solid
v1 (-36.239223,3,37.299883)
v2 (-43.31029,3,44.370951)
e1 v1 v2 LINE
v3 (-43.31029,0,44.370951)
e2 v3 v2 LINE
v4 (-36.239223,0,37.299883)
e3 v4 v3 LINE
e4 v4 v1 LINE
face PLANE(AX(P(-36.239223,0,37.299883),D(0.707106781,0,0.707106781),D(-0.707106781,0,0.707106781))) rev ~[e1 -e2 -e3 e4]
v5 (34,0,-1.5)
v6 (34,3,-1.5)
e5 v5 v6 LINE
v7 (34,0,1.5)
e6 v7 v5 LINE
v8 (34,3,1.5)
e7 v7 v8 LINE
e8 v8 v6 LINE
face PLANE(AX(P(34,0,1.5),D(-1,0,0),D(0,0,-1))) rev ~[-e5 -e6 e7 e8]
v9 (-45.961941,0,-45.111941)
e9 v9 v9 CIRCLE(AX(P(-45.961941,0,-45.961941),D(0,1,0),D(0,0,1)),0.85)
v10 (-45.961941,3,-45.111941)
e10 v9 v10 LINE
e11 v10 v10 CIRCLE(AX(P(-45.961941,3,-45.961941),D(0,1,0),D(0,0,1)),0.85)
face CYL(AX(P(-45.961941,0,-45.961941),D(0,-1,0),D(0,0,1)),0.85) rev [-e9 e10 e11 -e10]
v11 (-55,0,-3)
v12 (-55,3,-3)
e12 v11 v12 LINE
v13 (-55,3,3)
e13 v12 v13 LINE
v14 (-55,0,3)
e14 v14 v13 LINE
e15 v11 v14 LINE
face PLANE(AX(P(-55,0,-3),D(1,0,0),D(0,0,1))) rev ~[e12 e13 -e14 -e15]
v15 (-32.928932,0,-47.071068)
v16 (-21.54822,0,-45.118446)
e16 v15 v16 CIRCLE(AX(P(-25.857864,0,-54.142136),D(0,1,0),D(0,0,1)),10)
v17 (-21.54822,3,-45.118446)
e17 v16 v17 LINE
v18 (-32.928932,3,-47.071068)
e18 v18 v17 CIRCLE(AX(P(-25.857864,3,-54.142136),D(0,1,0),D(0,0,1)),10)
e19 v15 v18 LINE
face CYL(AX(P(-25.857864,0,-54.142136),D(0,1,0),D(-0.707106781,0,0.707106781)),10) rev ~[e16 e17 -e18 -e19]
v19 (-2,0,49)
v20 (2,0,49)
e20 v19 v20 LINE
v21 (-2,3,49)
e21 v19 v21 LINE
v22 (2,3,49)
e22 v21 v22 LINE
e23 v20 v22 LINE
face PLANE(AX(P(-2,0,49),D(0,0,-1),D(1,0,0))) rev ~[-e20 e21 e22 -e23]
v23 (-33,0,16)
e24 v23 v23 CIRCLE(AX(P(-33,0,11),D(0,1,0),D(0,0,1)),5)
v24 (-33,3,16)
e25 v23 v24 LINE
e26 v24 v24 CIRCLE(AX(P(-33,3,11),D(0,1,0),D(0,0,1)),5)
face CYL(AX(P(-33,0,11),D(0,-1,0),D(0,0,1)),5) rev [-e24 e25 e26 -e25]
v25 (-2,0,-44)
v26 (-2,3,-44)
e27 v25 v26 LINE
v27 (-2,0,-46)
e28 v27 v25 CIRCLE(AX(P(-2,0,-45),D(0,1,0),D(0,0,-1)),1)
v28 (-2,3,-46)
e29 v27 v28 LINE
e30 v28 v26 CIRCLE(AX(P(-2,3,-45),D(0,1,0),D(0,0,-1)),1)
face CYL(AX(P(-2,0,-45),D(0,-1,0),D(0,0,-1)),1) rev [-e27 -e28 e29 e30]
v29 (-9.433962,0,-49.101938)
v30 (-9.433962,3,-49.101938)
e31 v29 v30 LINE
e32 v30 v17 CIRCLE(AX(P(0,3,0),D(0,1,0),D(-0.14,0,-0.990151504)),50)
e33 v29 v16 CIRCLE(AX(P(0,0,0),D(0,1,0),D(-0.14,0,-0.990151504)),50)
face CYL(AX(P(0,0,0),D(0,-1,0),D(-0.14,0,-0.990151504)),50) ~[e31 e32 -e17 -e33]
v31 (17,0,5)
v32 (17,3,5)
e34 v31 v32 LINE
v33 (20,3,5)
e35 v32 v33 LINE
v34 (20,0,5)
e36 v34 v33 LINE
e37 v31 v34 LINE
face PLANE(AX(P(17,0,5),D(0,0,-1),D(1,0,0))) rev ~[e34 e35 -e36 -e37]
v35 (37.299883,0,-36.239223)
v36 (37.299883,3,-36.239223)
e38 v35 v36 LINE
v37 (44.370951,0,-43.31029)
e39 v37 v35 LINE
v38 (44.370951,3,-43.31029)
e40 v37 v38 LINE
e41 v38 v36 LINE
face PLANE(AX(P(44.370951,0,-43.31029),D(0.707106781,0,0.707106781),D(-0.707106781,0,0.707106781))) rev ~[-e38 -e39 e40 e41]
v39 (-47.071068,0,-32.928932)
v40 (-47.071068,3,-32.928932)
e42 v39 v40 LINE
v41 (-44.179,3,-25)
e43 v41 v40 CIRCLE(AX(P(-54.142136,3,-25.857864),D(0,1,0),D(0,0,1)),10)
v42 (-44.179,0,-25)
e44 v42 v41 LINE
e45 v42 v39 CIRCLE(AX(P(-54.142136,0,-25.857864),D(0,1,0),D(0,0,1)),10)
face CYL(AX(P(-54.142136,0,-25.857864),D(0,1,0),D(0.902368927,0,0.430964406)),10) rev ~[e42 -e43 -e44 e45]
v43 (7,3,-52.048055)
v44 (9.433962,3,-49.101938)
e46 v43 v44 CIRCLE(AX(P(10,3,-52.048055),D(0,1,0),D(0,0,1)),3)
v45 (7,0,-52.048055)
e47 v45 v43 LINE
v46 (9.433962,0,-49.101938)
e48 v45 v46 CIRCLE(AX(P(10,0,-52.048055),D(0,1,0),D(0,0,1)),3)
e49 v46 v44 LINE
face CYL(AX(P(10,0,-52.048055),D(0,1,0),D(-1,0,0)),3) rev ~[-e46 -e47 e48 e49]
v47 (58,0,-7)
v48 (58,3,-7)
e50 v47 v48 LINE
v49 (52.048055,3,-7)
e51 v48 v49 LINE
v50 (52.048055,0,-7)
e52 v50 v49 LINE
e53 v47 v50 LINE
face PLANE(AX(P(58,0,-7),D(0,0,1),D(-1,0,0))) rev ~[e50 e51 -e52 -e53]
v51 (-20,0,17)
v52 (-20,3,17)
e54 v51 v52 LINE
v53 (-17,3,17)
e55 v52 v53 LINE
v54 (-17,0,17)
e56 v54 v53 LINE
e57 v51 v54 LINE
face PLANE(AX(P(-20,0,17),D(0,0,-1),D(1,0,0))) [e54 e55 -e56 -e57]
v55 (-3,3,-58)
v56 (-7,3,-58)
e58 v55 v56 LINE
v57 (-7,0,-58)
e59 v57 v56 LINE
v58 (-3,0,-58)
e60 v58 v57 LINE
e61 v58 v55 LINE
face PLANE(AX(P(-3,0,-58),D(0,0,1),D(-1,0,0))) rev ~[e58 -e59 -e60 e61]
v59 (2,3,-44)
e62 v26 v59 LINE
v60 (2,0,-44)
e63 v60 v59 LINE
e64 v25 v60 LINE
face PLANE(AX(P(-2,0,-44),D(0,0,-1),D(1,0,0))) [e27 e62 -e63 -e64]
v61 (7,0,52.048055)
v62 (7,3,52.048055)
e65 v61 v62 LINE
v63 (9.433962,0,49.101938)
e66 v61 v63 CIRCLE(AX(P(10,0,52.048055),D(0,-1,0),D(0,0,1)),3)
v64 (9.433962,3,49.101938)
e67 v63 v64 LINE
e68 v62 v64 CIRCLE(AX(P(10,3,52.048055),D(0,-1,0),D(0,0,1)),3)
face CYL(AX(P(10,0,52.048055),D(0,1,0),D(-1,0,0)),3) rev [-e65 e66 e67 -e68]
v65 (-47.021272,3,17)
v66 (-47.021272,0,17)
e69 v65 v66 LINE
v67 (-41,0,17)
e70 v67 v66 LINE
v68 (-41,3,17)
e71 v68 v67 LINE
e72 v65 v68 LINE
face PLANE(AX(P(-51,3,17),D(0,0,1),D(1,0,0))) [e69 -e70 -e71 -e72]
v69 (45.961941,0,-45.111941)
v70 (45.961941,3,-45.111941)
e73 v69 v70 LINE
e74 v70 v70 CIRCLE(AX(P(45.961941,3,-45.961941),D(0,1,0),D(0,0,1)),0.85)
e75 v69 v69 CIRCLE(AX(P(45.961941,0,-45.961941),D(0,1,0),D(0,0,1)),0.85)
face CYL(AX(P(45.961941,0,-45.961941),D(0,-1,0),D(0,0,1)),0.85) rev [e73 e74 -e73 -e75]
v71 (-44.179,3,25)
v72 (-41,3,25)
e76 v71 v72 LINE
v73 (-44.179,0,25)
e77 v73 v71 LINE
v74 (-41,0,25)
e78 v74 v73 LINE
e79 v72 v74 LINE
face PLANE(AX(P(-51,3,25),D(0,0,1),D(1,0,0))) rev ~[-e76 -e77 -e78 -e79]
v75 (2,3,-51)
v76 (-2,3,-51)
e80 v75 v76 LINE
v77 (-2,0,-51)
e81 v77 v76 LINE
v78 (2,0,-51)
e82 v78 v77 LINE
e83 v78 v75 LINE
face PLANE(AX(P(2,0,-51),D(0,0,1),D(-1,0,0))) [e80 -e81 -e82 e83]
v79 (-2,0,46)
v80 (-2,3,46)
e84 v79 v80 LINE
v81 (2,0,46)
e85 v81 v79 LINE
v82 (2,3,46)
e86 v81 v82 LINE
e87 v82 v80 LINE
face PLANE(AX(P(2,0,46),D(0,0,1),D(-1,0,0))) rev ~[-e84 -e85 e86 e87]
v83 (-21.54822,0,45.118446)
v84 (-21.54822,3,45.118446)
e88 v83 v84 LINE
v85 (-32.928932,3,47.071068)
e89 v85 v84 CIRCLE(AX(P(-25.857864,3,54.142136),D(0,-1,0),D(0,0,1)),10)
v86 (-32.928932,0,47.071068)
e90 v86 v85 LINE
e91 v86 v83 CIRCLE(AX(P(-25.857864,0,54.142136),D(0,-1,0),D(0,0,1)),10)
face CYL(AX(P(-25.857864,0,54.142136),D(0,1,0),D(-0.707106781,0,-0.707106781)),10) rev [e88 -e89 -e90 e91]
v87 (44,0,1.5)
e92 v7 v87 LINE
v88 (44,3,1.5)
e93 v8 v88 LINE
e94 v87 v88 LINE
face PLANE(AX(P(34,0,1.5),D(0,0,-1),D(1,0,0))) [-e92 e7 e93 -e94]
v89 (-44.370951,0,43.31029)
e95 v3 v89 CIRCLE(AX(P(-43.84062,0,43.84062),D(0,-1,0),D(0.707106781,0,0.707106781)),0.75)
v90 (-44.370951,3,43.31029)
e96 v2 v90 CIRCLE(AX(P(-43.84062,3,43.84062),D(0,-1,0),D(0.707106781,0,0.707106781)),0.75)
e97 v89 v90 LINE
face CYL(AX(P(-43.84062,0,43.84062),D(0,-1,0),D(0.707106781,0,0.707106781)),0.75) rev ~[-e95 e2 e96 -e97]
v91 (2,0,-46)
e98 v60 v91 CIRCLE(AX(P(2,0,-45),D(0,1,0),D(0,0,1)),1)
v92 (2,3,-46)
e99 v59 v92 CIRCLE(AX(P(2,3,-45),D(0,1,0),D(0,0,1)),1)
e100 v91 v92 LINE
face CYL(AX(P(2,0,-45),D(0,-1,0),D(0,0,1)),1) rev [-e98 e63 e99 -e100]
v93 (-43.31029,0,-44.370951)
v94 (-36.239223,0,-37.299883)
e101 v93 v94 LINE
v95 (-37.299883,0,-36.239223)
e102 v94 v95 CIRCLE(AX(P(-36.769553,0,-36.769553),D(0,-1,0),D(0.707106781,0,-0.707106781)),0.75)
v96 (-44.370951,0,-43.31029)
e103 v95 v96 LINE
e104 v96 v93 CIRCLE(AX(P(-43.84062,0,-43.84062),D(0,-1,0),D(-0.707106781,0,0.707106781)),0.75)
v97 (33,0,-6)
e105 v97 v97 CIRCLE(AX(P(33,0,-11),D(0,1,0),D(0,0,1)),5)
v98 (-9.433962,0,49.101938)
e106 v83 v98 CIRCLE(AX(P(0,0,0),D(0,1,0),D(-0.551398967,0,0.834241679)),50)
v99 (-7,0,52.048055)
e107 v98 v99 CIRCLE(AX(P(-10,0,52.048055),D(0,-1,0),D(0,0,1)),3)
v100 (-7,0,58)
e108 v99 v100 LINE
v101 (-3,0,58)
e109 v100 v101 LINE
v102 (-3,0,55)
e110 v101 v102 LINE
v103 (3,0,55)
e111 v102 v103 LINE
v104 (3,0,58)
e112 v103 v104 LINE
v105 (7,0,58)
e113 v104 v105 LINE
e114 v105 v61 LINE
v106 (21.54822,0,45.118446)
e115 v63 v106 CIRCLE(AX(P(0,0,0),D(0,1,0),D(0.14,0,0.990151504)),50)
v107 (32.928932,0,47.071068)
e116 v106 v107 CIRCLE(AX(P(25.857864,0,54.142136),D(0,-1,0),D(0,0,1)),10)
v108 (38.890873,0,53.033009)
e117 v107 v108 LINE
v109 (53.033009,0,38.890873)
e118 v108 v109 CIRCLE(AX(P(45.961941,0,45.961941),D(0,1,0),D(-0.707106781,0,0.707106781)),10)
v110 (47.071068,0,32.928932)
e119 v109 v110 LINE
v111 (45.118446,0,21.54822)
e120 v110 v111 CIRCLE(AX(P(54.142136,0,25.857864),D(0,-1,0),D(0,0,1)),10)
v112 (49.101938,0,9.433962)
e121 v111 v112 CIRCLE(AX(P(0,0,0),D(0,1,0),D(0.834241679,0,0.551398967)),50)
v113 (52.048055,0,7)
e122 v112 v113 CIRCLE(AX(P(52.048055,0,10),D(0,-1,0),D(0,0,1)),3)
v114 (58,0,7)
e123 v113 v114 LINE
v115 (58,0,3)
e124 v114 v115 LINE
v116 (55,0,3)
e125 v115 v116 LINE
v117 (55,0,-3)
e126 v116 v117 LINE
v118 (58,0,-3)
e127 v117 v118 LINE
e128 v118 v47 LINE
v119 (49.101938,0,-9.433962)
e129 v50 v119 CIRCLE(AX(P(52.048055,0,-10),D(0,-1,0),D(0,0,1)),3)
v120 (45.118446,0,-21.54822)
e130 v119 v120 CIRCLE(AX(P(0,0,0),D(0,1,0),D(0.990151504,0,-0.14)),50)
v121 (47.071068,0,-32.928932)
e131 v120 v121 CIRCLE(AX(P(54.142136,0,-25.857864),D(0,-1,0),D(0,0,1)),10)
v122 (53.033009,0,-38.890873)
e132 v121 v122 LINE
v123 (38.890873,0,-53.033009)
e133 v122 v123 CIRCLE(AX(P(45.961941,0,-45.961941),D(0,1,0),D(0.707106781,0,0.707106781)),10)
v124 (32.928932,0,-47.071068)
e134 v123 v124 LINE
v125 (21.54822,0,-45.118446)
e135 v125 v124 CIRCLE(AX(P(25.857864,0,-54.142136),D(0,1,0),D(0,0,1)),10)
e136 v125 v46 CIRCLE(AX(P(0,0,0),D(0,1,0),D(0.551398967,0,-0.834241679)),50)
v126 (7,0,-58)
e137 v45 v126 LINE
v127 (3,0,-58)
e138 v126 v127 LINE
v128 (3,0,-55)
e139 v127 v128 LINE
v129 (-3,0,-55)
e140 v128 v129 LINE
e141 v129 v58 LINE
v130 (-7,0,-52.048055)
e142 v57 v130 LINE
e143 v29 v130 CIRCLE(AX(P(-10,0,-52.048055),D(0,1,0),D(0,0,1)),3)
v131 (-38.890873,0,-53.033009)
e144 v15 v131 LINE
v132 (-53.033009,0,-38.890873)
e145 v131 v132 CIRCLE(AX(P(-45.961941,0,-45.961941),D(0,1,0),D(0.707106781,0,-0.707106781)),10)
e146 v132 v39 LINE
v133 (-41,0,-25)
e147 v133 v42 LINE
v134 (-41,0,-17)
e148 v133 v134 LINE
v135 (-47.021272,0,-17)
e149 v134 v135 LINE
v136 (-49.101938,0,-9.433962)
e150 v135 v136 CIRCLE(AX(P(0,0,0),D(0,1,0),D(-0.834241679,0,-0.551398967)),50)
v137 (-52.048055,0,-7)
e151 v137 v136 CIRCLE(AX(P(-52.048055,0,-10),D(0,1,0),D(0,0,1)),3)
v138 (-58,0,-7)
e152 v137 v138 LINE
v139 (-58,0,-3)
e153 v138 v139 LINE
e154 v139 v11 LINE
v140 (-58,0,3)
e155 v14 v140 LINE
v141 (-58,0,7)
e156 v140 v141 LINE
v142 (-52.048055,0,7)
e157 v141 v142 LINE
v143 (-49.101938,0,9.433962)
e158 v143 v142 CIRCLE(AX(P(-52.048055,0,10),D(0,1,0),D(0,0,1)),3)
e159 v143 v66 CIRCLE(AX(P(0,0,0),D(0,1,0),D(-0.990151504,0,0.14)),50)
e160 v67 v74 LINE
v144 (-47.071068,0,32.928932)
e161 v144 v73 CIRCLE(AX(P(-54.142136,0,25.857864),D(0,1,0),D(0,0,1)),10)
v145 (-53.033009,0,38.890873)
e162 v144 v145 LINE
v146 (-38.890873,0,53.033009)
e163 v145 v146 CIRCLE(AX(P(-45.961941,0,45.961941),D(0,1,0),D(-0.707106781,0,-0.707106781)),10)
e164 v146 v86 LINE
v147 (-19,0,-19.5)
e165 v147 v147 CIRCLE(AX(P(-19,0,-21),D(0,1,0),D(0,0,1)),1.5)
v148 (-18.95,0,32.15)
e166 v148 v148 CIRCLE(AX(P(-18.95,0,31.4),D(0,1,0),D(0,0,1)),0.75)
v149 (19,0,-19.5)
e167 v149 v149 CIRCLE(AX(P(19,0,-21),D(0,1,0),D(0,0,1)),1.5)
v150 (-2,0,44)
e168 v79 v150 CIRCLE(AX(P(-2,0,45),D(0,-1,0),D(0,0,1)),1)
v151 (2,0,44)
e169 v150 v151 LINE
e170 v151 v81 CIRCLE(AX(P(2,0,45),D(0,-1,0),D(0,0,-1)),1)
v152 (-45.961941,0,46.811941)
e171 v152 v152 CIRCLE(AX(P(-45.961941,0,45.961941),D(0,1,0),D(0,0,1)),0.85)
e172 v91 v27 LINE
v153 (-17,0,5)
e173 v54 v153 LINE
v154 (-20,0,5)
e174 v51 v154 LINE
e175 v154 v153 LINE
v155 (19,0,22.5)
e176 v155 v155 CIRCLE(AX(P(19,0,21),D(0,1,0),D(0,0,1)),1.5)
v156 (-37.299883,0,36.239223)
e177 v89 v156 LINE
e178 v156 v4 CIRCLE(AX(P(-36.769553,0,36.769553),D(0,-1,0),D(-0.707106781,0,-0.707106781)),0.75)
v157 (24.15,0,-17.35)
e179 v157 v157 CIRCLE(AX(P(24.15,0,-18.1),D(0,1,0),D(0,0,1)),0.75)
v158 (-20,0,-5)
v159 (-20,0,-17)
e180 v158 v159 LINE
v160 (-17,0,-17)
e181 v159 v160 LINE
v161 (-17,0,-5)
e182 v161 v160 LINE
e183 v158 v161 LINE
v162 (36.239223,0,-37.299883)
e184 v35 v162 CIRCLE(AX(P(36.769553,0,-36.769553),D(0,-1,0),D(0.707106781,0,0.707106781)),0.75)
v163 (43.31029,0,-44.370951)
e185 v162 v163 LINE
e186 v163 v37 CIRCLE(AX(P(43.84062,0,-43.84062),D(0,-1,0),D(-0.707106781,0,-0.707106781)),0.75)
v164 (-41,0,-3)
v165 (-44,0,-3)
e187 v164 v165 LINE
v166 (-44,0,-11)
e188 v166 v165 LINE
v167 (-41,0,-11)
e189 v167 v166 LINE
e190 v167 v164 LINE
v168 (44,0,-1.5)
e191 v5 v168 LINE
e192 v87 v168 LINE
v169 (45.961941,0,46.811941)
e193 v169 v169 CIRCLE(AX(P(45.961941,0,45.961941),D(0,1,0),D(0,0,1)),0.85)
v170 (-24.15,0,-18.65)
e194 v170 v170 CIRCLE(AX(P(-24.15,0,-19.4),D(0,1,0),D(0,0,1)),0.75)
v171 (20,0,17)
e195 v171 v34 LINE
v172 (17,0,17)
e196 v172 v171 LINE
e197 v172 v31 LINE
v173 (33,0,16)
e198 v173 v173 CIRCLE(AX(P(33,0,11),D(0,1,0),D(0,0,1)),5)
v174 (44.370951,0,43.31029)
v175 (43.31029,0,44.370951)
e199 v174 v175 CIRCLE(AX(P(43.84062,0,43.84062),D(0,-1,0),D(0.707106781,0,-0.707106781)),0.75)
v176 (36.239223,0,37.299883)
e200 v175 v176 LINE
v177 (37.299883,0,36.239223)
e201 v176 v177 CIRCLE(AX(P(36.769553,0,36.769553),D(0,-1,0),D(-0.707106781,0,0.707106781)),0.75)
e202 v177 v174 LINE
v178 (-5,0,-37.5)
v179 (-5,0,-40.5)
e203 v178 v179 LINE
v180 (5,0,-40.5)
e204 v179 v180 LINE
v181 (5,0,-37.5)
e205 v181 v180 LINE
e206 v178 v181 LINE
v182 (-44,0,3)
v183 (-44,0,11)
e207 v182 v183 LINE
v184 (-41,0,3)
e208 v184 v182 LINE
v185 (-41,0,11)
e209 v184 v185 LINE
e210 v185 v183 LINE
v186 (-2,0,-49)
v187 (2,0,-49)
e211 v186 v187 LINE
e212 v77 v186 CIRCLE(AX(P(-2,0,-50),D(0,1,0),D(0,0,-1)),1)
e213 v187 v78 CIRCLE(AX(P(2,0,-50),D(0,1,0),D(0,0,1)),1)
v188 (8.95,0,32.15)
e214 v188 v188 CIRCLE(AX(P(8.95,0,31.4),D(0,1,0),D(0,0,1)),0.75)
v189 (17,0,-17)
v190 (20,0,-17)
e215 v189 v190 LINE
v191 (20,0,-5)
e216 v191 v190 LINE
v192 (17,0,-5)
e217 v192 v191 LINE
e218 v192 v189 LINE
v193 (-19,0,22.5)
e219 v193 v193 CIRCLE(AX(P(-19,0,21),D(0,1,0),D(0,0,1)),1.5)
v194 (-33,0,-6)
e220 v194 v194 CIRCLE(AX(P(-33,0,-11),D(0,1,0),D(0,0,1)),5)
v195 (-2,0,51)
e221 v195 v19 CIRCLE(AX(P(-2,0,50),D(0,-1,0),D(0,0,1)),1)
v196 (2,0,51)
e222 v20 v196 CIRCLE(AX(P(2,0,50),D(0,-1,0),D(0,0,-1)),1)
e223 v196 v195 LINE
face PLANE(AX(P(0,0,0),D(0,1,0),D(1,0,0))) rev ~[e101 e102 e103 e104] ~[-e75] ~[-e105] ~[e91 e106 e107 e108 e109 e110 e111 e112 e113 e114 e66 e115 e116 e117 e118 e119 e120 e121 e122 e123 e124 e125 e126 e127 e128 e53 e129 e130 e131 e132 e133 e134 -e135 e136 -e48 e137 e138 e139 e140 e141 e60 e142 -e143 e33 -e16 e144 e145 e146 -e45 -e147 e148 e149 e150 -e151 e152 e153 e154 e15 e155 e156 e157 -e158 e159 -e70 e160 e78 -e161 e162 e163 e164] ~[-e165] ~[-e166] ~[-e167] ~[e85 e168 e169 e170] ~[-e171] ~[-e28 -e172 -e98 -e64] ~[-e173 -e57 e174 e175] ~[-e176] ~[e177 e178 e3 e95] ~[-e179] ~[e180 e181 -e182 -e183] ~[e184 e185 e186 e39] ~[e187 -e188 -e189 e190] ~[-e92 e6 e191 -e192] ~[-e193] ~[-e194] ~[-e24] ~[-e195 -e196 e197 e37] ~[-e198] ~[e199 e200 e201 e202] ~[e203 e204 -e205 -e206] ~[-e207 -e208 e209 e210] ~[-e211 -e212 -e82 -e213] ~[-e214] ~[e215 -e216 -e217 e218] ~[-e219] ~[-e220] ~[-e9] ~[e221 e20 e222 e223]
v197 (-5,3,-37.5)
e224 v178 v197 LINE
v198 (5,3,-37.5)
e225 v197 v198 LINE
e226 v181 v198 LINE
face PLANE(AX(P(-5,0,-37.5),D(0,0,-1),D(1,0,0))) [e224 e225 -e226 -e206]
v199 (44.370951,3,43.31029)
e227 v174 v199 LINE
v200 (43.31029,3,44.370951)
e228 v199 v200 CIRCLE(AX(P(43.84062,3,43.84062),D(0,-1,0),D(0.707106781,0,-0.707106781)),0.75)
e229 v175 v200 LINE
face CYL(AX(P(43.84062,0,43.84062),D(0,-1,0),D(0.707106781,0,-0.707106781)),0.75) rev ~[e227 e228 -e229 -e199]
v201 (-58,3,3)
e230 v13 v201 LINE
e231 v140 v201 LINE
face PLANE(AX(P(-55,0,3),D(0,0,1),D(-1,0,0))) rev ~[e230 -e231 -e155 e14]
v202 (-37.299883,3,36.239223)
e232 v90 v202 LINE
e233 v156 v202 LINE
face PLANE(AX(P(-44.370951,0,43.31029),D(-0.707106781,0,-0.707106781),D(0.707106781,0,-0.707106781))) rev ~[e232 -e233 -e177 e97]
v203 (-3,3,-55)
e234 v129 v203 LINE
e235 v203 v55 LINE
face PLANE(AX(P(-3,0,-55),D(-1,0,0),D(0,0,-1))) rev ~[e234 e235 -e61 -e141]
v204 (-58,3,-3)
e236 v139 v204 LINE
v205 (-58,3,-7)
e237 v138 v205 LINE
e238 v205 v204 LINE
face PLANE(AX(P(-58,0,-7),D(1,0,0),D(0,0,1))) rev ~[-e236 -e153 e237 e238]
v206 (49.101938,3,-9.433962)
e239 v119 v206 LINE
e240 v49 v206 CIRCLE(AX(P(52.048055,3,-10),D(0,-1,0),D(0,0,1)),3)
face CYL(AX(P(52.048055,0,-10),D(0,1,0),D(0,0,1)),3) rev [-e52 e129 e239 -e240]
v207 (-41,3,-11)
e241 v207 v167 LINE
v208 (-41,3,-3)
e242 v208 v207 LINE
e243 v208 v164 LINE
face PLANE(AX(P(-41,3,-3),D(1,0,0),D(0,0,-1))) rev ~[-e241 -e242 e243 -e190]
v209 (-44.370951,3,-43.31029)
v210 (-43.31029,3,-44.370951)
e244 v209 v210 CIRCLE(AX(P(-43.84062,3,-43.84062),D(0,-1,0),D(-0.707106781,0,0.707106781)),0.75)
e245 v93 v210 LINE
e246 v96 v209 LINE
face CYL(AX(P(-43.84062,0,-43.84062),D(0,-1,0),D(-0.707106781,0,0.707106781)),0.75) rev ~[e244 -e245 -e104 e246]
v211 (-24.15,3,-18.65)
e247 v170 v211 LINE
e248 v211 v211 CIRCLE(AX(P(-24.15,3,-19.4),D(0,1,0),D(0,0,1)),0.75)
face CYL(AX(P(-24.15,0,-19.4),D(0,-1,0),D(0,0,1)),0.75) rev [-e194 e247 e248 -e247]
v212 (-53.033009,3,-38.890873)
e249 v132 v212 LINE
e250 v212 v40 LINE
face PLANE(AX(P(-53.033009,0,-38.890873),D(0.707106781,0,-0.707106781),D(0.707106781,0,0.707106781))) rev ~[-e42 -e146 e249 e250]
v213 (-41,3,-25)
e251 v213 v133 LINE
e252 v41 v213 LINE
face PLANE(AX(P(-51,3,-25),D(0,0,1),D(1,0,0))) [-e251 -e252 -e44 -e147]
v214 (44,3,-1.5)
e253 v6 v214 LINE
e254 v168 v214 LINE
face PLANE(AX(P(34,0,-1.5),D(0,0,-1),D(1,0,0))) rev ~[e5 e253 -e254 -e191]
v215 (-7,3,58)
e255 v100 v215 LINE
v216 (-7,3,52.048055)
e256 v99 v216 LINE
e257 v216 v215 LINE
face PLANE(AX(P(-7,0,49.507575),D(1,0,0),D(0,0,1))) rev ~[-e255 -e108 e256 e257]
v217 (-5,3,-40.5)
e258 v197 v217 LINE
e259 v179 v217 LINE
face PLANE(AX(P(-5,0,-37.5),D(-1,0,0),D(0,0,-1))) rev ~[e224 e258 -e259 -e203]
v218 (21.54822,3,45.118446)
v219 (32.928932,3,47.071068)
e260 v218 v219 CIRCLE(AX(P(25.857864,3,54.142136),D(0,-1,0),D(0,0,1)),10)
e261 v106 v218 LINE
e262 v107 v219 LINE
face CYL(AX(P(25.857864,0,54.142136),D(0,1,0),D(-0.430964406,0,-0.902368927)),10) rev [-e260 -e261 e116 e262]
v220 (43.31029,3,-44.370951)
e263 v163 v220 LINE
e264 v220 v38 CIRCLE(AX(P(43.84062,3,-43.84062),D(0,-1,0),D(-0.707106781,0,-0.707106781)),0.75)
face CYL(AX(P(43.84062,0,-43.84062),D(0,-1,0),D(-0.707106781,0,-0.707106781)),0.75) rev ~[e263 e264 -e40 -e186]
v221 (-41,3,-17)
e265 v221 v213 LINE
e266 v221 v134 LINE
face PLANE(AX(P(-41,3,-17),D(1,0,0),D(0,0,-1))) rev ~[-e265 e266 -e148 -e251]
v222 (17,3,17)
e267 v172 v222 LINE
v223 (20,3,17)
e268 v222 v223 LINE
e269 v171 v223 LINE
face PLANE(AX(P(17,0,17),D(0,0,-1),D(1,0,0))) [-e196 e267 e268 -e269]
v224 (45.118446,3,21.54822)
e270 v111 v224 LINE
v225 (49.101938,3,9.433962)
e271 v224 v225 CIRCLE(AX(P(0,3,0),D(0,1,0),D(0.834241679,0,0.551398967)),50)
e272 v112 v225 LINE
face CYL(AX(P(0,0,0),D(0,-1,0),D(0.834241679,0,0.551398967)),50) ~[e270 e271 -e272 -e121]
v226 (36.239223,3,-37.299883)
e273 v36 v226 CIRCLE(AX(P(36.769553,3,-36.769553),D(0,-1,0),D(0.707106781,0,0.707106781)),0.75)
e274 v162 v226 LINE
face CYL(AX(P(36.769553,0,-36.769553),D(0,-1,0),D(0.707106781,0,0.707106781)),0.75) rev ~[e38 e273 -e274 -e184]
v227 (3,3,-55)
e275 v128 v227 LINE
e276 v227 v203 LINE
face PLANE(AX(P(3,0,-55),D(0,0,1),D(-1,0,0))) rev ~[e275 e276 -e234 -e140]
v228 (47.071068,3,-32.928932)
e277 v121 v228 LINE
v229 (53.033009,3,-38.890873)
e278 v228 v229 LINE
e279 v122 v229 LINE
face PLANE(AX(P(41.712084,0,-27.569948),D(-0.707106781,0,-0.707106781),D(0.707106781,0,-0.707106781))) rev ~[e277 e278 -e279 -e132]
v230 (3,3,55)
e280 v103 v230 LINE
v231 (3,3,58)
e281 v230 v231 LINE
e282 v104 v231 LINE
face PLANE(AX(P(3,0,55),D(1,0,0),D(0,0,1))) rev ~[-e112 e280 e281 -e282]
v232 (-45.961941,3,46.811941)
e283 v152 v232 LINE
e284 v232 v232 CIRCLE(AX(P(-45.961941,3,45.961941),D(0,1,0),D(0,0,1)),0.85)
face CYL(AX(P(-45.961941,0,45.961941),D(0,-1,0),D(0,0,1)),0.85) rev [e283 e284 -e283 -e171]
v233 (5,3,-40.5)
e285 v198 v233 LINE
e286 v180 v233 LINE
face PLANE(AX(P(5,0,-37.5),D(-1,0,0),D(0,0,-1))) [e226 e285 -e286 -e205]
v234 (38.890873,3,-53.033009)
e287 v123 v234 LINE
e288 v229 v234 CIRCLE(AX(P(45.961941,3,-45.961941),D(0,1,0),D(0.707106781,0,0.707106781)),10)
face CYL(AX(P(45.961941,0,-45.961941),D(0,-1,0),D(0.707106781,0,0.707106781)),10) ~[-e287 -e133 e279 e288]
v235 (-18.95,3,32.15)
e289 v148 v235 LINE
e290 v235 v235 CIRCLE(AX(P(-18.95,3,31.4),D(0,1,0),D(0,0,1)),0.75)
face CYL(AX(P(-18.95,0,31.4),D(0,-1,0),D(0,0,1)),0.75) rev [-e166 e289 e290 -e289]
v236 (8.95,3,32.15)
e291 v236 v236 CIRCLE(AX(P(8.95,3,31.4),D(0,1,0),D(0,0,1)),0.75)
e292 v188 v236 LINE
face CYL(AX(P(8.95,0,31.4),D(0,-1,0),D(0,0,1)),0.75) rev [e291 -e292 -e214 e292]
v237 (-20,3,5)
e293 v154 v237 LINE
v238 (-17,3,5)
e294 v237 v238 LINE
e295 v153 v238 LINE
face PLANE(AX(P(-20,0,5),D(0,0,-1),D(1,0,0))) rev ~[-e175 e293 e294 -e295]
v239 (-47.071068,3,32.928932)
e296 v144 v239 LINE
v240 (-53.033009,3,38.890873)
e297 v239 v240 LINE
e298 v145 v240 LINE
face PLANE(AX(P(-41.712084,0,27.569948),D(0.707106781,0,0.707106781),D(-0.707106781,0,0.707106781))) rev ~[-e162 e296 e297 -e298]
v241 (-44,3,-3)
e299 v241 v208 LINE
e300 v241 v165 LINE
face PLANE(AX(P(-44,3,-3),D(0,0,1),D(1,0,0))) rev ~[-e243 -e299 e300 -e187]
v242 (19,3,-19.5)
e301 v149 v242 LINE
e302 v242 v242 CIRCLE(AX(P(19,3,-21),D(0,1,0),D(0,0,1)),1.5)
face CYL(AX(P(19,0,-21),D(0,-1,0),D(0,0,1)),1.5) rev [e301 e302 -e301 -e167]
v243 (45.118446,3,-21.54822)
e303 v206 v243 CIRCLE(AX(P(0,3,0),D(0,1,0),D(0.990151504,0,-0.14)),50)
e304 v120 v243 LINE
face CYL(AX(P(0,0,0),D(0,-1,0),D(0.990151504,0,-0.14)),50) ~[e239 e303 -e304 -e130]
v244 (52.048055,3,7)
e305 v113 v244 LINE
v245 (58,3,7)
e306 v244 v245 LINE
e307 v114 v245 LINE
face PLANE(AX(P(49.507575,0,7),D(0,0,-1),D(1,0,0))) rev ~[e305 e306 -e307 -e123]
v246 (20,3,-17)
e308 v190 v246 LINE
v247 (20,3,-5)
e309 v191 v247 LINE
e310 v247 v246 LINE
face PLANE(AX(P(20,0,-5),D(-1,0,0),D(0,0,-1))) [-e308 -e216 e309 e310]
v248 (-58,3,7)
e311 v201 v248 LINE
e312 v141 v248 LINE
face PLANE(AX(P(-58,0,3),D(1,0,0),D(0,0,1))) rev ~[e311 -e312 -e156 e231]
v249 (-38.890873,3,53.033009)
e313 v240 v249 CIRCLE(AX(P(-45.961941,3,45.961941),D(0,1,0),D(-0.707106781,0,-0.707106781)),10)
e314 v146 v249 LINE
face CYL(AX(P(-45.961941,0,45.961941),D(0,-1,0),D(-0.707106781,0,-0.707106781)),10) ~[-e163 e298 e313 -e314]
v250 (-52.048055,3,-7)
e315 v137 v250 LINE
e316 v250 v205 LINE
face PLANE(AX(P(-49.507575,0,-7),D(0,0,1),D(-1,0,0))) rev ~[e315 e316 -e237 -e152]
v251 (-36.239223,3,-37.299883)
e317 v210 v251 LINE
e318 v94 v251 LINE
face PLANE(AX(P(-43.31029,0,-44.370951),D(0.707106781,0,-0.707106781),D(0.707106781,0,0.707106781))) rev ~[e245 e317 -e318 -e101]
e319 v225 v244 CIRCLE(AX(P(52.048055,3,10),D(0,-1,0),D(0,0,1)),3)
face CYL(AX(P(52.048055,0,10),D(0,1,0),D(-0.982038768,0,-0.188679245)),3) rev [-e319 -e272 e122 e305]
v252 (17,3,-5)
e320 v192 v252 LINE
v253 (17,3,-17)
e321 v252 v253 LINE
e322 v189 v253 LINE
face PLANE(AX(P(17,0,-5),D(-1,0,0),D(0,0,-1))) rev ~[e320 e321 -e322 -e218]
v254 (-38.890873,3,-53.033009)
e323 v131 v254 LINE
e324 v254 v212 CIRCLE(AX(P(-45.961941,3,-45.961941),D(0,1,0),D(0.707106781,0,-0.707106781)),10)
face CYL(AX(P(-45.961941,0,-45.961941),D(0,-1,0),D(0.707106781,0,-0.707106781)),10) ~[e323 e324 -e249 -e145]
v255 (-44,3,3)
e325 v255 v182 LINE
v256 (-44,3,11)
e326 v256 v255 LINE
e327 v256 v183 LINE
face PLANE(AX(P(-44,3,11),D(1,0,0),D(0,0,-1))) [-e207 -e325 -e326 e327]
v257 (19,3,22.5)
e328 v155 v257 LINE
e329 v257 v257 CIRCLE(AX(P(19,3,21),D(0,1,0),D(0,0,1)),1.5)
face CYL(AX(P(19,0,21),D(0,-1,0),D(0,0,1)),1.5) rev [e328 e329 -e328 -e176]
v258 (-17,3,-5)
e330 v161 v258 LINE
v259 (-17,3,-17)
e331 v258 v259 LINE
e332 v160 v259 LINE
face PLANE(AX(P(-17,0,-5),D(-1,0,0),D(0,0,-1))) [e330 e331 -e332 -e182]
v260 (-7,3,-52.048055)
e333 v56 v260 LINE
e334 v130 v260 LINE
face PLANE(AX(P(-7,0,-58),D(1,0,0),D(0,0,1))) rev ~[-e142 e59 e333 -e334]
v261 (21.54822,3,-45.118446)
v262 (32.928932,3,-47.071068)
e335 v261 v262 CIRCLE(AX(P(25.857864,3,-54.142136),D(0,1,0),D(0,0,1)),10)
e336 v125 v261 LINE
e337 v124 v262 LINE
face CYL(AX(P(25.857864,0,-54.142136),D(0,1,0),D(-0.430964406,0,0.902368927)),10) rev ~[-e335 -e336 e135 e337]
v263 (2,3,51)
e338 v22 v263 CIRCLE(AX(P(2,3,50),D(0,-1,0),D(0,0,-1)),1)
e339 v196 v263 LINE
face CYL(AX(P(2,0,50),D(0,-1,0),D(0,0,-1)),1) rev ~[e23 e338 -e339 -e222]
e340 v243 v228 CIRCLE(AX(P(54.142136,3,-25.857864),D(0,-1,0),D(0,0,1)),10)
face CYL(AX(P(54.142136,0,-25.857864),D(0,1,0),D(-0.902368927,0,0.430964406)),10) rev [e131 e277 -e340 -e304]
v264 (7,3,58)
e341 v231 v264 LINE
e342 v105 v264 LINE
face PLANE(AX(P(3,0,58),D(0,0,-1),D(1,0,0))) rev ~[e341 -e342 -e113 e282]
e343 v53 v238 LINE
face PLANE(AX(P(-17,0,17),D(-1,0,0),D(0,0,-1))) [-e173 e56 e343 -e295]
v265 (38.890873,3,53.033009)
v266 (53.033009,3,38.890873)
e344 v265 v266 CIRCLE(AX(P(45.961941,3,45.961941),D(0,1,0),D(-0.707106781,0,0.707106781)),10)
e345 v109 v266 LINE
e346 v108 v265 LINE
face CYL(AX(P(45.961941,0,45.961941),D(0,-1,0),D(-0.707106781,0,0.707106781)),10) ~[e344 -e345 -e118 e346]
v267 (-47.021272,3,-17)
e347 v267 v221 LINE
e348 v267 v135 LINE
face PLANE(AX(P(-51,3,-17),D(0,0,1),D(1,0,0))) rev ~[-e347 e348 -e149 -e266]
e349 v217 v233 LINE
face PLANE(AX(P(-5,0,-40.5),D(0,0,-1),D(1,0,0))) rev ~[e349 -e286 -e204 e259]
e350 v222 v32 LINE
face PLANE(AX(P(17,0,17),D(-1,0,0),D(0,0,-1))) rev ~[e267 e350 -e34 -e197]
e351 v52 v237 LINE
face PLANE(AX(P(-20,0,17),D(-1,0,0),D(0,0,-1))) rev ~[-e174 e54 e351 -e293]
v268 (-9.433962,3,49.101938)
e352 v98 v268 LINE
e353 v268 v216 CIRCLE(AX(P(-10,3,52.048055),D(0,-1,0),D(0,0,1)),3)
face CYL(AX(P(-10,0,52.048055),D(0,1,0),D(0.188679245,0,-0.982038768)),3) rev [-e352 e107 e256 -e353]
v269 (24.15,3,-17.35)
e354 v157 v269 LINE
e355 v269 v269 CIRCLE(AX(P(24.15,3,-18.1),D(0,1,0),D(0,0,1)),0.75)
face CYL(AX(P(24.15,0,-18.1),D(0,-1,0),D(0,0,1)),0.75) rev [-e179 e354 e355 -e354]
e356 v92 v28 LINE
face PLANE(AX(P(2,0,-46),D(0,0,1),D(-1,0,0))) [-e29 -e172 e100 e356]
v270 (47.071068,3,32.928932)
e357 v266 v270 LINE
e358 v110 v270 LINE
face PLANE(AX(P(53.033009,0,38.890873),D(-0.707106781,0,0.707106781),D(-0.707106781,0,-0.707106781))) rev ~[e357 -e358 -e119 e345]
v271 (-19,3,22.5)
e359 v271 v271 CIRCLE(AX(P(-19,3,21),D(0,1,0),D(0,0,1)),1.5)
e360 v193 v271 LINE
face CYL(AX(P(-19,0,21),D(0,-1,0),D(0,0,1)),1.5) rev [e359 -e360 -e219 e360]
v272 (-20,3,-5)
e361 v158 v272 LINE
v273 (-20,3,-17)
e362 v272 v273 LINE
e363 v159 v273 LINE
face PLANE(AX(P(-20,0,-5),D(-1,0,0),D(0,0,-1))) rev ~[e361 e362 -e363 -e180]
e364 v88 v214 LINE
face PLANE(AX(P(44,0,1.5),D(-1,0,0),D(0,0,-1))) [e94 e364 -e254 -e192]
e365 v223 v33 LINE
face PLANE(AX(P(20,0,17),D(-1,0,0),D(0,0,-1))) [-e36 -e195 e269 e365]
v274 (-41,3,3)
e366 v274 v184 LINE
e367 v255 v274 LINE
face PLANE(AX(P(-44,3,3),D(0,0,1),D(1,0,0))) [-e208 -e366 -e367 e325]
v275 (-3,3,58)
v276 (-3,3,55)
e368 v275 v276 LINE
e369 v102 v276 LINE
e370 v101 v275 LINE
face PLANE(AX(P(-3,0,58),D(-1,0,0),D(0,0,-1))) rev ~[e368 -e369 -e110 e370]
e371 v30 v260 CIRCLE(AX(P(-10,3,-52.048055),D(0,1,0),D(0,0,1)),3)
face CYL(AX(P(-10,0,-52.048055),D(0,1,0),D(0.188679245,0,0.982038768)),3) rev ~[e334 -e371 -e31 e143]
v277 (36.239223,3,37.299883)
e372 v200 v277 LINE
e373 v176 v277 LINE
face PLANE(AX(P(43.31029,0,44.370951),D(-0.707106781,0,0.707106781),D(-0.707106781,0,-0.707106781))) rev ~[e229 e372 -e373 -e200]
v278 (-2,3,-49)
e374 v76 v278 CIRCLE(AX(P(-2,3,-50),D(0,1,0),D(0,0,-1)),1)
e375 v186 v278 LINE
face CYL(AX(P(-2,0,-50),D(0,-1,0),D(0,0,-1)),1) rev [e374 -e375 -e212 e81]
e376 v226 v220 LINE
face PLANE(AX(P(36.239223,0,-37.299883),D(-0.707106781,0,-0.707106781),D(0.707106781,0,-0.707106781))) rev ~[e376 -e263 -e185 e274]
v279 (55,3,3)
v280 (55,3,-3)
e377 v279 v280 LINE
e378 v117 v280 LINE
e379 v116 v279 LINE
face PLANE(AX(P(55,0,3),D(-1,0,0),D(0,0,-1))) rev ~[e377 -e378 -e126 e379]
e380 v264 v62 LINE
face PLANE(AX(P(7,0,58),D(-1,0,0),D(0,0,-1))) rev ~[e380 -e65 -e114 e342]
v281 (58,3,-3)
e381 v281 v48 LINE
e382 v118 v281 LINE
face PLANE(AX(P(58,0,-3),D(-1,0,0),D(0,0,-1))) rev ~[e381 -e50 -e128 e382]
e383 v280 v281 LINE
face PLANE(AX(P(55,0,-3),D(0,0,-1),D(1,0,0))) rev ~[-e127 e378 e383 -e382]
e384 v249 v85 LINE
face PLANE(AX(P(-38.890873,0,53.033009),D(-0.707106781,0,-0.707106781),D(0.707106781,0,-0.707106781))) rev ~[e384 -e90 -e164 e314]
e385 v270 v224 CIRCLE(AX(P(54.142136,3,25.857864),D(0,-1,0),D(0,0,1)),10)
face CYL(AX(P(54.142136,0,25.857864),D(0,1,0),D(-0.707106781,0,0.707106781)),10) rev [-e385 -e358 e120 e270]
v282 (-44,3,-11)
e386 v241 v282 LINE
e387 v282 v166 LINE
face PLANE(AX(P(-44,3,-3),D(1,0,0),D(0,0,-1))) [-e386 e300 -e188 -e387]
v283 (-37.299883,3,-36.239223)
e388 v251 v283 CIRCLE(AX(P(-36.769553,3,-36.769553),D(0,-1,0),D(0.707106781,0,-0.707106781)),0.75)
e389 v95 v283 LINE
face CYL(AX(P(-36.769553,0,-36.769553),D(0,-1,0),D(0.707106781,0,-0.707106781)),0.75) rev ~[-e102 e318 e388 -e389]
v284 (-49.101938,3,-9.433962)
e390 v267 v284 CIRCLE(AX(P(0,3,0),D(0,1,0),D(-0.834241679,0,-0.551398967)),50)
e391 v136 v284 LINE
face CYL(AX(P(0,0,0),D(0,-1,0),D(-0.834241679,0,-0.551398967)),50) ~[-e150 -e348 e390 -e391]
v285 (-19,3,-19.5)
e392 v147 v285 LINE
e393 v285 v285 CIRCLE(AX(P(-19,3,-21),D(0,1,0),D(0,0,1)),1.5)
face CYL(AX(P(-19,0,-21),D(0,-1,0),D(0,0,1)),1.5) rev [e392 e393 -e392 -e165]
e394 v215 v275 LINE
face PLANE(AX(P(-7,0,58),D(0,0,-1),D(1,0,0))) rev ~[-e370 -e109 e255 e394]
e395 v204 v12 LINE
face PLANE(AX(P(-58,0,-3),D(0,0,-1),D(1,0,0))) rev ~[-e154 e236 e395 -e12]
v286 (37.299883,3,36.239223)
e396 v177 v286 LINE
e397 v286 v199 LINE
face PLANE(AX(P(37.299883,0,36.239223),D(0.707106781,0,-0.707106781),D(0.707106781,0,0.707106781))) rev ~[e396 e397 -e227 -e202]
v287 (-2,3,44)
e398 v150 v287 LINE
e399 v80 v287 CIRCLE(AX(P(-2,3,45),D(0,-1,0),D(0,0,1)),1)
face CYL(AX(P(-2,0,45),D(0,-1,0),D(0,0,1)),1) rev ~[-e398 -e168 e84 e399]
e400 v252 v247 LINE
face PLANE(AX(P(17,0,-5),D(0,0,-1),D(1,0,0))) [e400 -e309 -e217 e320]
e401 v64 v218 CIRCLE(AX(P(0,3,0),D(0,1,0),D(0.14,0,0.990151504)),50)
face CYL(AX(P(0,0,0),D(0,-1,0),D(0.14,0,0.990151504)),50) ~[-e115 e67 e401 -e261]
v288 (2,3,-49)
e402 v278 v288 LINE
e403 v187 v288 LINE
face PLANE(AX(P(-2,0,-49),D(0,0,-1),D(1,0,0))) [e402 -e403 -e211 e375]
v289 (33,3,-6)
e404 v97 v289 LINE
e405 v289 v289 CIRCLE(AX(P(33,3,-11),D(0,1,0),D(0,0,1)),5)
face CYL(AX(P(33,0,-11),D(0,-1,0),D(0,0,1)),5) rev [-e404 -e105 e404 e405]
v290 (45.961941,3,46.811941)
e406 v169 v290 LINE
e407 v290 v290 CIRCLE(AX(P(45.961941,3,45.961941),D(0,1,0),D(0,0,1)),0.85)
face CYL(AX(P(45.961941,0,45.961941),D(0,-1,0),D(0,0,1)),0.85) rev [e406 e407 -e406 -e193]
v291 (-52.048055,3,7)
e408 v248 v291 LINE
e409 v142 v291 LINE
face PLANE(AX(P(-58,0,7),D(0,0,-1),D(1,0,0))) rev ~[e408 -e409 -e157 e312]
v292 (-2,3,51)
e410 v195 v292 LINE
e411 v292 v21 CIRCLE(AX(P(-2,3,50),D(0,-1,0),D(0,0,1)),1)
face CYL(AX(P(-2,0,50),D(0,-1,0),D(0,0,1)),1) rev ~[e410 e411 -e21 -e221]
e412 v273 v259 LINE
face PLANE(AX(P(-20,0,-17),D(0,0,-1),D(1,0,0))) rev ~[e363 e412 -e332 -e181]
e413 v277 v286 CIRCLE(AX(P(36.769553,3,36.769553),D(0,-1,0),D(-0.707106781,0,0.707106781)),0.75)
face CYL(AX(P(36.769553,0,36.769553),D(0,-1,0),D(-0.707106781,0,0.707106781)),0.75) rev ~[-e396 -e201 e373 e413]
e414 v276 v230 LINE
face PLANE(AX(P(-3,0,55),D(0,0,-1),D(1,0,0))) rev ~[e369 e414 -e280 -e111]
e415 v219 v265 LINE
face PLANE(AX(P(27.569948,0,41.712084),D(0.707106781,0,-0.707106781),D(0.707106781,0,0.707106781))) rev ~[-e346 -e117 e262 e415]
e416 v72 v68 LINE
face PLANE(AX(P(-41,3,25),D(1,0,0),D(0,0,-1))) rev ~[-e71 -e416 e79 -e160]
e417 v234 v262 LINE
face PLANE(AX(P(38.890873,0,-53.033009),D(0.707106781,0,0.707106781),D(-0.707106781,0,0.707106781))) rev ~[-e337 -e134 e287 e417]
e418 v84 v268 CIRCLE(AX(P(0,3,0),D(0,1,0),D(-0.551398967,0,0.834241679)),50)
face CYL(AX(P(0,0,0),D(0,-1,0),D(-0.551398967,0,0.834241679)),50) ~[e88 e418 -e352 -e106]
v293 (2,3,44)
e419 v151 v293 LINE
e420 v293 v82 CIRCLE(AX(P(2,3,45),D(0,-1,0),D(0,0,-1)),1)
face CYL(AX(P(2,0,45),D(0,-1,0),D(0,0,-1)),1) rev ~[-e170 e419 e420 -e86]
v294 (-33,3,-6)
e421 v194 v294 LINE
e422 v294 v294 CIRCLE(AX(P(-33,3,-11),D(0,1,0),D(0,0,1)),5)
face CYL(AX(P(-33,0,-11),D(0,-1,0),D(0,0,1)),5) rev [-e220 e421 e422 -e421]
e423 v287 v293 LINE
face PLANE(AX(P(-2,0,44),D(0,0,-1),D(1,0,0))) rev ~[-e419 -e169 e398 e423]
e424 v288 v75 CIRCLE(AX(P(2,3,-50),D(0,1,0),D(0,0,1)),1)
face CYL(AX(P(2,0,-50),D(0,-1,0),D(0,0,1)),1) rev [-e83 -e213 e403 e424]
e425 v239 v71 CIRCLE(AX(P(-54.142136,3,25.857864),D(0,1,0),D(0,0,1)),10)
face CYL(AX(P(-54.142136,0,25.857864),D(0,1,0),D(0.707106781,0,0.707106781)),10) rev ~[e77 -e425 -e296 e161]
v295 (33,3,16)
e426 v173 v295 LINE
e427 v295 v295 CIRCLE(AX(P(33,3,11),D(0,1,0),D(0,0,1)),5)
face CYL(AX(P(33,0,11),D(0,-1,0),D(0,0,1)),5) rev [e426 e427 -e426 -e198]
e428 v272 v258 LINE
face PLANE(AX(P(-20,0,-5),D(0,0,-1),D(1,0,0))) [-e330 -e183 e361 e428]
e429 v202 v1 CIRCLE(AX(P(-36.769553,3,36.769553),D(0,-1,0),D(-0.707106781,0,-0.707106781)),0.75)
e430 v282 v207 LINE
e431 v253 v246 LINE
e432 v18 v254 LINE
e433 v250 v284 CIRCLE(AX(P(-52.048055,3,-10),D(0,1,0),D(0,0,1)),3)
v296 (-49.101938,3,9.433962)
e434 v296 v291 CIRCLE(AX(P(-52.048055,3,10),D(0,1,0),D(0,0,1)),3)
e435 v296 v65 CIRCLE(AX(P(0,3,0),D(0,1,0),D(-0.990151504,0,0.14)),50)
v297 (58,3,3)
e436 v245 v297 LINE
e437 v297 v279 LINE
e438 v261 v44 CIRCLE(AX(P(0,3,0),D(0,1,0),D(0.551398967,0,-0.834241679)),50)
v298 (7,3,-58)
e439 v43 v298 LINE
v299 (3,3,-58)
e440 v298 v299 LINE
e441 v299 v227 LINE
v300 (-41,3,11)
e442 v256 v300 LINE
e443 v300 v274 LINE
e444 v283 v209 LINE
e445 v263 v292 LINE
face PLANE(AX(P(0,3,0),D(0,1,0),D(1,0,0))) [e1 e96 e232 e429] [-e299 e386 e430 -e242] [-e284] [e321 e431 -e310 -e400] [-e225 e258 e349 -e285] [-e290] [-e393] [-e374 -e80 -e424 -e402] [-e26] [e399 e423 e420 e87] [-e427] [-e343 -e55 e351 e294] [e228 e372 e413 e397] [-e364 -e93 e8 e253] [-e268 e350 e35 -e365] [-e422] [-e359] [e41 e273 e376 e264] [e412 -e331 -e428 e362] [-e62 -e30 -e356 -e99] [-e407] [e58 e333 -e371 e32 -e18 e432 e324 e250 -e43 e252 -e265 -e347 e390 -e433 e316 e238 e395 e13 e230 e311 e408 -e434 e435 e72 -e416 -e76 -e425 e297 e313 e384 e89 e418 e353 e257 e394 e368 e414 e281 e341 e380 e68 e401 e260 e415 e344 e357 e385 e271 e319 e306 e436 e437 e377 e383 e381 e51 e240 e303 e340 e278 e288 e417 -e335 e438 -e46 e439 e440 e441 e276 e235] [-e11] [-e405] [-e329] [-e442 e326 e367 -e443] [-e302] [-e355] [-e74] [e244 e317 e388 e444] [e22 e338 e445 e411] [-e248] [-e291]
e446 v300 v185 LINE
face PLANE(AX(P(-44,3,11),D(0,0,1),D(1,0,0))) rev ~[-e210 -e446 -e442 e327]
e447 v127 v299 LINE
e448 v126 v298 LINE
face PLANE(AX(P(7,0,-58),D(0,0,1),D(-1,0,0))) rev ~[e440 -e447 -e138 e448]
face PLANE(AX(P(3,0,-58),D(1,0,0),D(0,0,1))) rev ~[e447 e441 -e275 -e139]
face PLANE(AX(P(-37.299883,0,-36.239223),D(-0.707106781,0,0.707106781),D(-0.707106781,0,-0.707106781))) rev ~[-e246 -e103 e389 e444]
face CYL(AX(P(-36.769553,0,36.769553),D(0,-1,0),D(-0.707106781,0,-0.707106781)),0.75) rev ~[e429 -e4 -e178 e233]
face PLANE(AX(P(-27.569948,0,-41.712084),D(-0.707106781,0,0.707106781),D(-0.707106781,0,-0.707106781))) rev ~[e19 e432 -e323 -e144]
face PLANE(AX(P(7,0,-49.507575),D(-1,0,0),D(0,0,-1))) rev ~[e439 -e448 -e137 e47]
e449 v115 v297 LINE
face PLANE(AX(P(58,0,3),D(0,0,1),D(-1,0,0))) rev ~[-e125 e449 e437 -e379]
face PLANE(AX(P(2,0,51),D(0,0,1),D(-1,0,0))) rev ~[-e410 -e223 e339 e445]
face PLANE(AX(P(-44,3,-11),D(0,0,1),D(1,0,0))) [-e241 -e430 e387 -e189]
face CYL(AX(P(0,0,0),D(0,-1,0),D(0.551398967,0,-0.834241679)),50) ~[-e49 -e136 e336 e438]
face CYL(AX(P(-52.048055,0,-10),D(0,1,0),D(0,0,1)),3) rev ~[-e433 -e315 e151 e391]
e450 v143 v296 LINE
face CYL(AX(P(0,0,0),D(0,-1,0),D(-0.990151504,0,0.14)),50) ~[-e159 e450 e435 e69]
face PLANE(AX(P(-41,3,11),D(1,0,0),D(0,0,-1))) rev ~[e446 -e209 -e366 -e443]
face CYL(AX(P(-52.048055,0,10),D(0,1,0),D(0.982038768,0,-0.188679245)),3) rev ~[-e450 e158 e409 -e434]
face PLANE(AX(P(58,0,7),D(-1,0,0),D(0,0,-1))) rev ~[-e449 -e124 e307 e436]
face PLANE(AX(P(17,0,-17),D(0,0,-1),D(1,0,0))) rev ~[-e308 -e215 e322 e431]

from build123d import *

# Parameters (mm, degrees)
ESQUISSE1_R             = 0.85
ESQUISSE1_R_2           = 1.5
ESQUISSE1_R_3           = 0.75
ESQUISSE1_R_4           = 5
ESQUISSE1_W             = 3
ESQUISSE1_H             = 12
ESQUISSE1_W_2           = 10
ESQUISSE1_H_2           = 3
BOSS_EXTRU_1_DEPTH      = 3
CONG_1_R                = 10
CONG_2_R                = 3
ENL_V_MAT_EXTRU_1_REACH = 84.079
ESQUISSE4_W             = 10
ESQUISSE4_H             = 8
ESQUISSE4_W_2           = 3


with BuildPart() as part:
    # Esquisse1 → Boss.-Extru.1 (new body)
    with BuildSketch(Plane(origin=(0, 0, 0), x_dir=(1, 0, 0), z_dir=(0, 1, 0))):
        with BuildLine():
            Line((-38.890872965, -53.033008589), (-27.56994834, -41.712083963))
            ThreePointArc((-27.56994834, -41.712083963), (-17.718994127, -46.755077234), (-7, -49.507575178))
            Line((-7, -49.507575178), (-7, -58))
            Line((-7, -58), (-3, -58))
            Line((-3, -58), (-3, -55))
            Line((-3, -55), (3, -55))
            Line((3, -55), (3, -58))
            Line((3, -58), (7, -58))
            Line((7, -58), (7, -49.507575178))
            ThreePointArc((7, -49.507575178), (17.718994127, -46.755077234), (27.56994834, -41.712083963))
            Line((27.56994834, -41.712083963), (38.890872965, -53.033008589))
            ThreePointArc((38.890872965, -53.033008589), (53.033008589, -53.033008589), (53.033008589, -38.890872965))
            Line((53.033008589, -38.890872965), (41.712083963, -27.56994834))
            ThreePointArc((41.712083963, -27.56994834), (46.755077234, -17.718994127), (49.507575178, -7))
            Line((49.507575178, -7), (58, -7))
            Line((58, -7), (58, -3))
            Line((58, -3), (55, -3))
            Line((55, -3), (55, 3))
            Line((55, 3), (58, 3))
            Line((58, 3), (58, 7))
            Line((58, 7), (49.507575178, 7))
            ThreePointArc((49.507575178, 7), (46.755077234, 17.718994127), (41.712083963, 27.56994834))
            Line((41.712083963, 27.56994834), (53.033008589, 38.890872965))
            ThreePointArc((53.033008589, 38.890872965), (53.033008589, 53.033008589), (38.890872965, 53.033008589))
            Line((38.890872965, 53.033008589), (27.56994834, 41.712083963))
            ThreePointArc((27.56994834, 41.712083963), (17.718994127, 46.755077234), (7, 49.507575178))
            Line((7, 49.507575178), (7, 58))
            Line((7, 58), (3, 58))
            Line((3, 58), (3, 55))
            Line((3, 55), (-3, 55))
            Line((-3, 55), (-3, 58))
            Line((-3, 58), (-7, 58))
            Line((-7, 58), (-7, 49.507575178))
            ThreePointArc((-7, 49.507575178), (-17.718994127, 46.755077234), (-27.56994834, 41.712083963))
            Line((-27.56994834, 41.712083963), (-38.890872965, 53.033008589))
            ThreePointArc((-38.890872965, 53.033008589), (-53.033008589, 53.033008589), (-53.033008589, 38.890872965))
            Line((-53.033008589, 38.890872965), (-41.712083963, 27.56994834))
            ThreePointArc((-41.712083963, 27.56994834), (-46.755077234, 17.718994127), (-49.507575178, 7))
            Line((-49.507575178, 7), (-58, 7))
            Line((-58, 7), (-58, 3))
            Line((-58, 3), (-55, 3))
            Line((-55, 3), (-55, -3))
            Line((-55, -3), (-58, -3))
            Line((-58, -3), (-58, -7))
            Line((-58, -7), (-49.507575178, -7))
            ThreePointArc((-49.507575178, -7), (-46.755077234, -17.718994127), (-41.712083963, -27.56994834))
            Line((-41.712083963, -27.56994834), (-53.033008589, -38.890872965))
            ThreePointArc((-53.033008589, -38.890872965), (-53.033008589, -53.033008589), (-38.890872965, -53.033008589))
        make_face()
        with Locations(Location((-45.961940777, -45.961940777, 0), (0, 0, 270))):
            Circle(ESQUISSE1_R, mode=Mode.SUBTRACT)
        with Locations(Location((-45.961940777, 45.961940777, 0), (0, 0, 270))):
            Circle(ESQUISSE1_R, mode=Mode.SUBTRACT)
        with Locations(Location((45.961940777, 45.961940777, 0), (0, 0, 270))):
            Circle(ESQUISSE1_R, mode=Mode.SUBTRACT)
        with Locations(Location((45.961940777, -45.961940777, 0), (0, 0, 270))):
            Circle(ESQUISSE1_R, mode=Mode.SUBTRACT)
        with Locations(Location((-19, 21, 0), (0, 0, 270))):
            Circle(ESQUISSE1_R_2, mode=Mode.SUBTRACT)
        with Locations(Location((19, 21, 0), (0, 0, 270))):
            Circle(ESQUISSE1_R_2, mode=Mode.SUBTRACT)
        with Locations(Location((19, -21, 0), (0, 0, 270))):
            Circle(ESQUISSE1_R_2, mode=Mode.SUBTRACT)
        with Locations(Location((-19, -21, 0), (0, 0, 270))):
            Circle(ESQUISSE1_R_2, mode=Mode.SUBTRACT)
        with Locations(Location((24.15, 18.1, 0), (0, 0, 270))):
            Circle(ESQUISSE1_R_3, mode=Mode.SUBTRACT)
        with Locations(Location((-24.15, 19.4, 0), (0, 0, 270))):
            Circle(ESQUISSE1_R_3, mode=Mode.SUBTRACT)
        with Locations(Location((-18.95, -31.4, 0), (0, 0, 270))):
            Circle(ESQUISSE1_R_3, mode=Mode.SUBTRACT)
        with Locations(Location((8.95, -31.4, 0), (0, 0, 270))):
            Circle(ESQUISSE1_R_3, mode=Mode.SUBTRACT)
        with Locations(Location((-33, 11, 0), (0, 0, 270))):
            Circle(ESQUISSE1_R_4, mode=Mode.SUBTRACT)
        with Locations(Location((33, 11, 0), (0, 0, 270))):
            Circle(ESQUISSE1_R_4, mode=Mode.SUBTRACT)
        with Locations(Location((33, -11, 0), (0, 0, 270))):
            Circle(ESQUISSE1_R_4, mode=Mode.SUBTRACT)
        with Locations(Location((-33, -11, 0), (0, 0, 270))):
            Circle(ESQUISSE1_R_4, mode=Mode.SUBTRACT)
        with Locations((-18.5, 11)):
            Rectangle(ESQUISSE1_W, ESQUISSE1_H, mode=Mode.SUBTRACT)
        with Locations((18.5, 11)):
            Rectangle(ESQUISSE1_W, ESQUISSE1_H, mode=Mode.SUBTRACT)
        with Locations((18.5, -11)):
            Rectangle(ESQUISSE1_W, ESQUISSE1_H, mode=Mode.SUBTRACT)
        with Locations((-18.5, -11)):
            Rectangle(ESQUISSE1_W, ESQUISSE1_H, mode=Mode.SUBTRACT)
        with BuildLine():
            Line((-44.370950519, -43.310290348), (-37.299882708, -36.239222536))
            ThreePointArc((-37.299882708, -36.239222536), (-36.239222536, -36.239222536), (-36.239222536, -37.299882708))
            Line((-36.239222536, -37.299882708), (-43.310290348, -44.370950519))
            ThreePointArc((-43.310290348, -44.370950519), (-44.370950519, -44.370950519), (-44.370950519, -43.310290348))
        make_face(mode=Mode.SUBTRACT)
        with BuildLine():
            Line((-43.310290348, 44.370950519), (-36.239222536, 37.299882708))
            ThreePointArc((-36.239222536, 37.299882708), (-36.239222536, 36.239222536), (-37.299882708, 36.239222536))
            Line((-37.299882708, 36.239222536), (-44.370950519, 43.310290348))
            ThreePointArc((-44.370950519, 43.310290348), (-44.370950519, 44.370950519), (-43.310290348, 44.370950519))
        make_face(mode=Mode.SUBTRACT)
        with BuildLine():
            Line((44.370950519, 43.310290348), (37.299882708, 36.239222536))
            ThreePointArc((37.299882708, 36.239222536), (36.239222536, 36.239222536), (36.239222536, 37.299882708))
            Line((36.239222536, 37.299882708), (43.310290348, 44.370950519))
            ThreePointArc((43.310290348, 44.370950519), (44.370950519, 44.370950519), (44.370950519, 43.310290348))
        make_face(mode=Mode.SUBTRACT)
        with BuildLine():
            Line((43.310290348, -44.370950519), (36.239222536, -37.299882708))
            ThreePointArc((36.239222536, -37.299882708), (36.239222536, -36.239222536), (37.299882708, -36.239222536))
            Line((37.299882708, -36.239222536), (44.370950519, -43.310290348))
            ThreePointArc((44.370950519, -43.310290348), (44.370950519, -44.370950519), (43.310290348, -44.370950519))
        make_face(mode=Mode.SUBTRACT)
        with BuildLine():
            Line((-2, -44), (2, -44))
            ThreePointArc((2, -44), (3, -45), (2, -46))
            Line((2, -46), (-2, -46))
            ThreePointArc((-2, -46), (-3, -45), (-2, -44))
        make_face(mode=Mode.SUBTRACT)
        with BuildLine():
            Line((-2, -49), (2, -49))
            ThreePointArc((2, -49), (3, -50), (2, -51))
            Line((2, -51), (-2, -51))
            ThreePointArc((-2, -51), (-3, -50), (-2, -49))
        make_face(mode=Mode.SUBTRACT)
        with BuildLine():
            Line((-2, 49), (2, 49))
            ThreePointArc((2, 49), (3, 50), (2, 51))
            Line((2, 51), (-2, 51))
            ThreePointArc((-2, 51), (-3, 50), (-2, 49))
        make_face(mode=Mode.SUBTRACT)
        with BuildLine():
            Line((-2, 44), (2, 44))
            ThreePointArc((2, 44), (3, 45), (2, 46))
            Line((2, 46), (-2, 46))
            ThreePointArc((-2, 46), (-3, 45), (-2, 44))
        make_face(mode=Mode.SUBTRACT)
        with Locations((39, 0)):
            Rectangle(ESQUISSE1_W_2, ESQUISSE1_H_2, mode=Mode.SUBTRACT)
        with Locations((0, 39)):
            Rectangle(ESQUISSE1_W_2, ESQUISSE1_H_2, mode=Mode.SUBTRACT)
    extrude(amount=BOSS_EXTRU_1_DEPTH)

    # Congé1
    cong_1_edges = [part.edges().sort_by_distance(p)[0] for p in [
        (-27.56994834, 1.5, 41.712083963),
        (-41.712083963, 1.5, 27.56994834),
        (-41.712083963, 1.5, -27.56994834),
        (-27.56994834, 1.5, -41.712083963),
        (27.56994834, 1.5, -41.712083963),
        (41.712083963, 1.5, -27.56994834),
        (41.712083963, 1.5, 27.56994834),
        (27.56994834, 1.5, 41.712083963),
    ]]
    fillet(cong_1_edges, radius=CONG_1_R)

    # Congé2
    cong_2_edges = [part.edges().sort_by_distance(p)[0] for p in [
        (7, 1.5, 49.507575178),
        (-7, 1.5, 49.507575178),
        (-49.507575178, 1.5, 7),
        (-49.507575178, 1.5, -7),
        (-7, 1.5, -49.507575178),
        (7, 1.5, -49.507575178),
        (49.507575178, 1.5, -7),
        (49.507575178, 1.5, 7),
    ]]
    fillet(cong_2_edges, radius=CONG_2_R)

    # Esquisse4 → Enlèv. mat.-Extru.1 (cut, up to next)
    with BuildSketch(Plane(origin=(0, 3, 0), x_dir=(1, 0, 0), z_dir=(0, 1, 0)), mode=Mode.PRIVATE) as enl_v_mat_extru_1_sk1:
        with Locations((-46, 21)):
            Rectangle(ESQUISSE4_W, ESQUISSE4_H)
    enl_v_mat_extru_1_tool1 = extrude(enl_v_mat_extru_1_sk1.sketch, amount=-ENL_V_MAT_EXTRU_1_REACH, mode=Mode.PRIVATE) & part.part
    # Esquisse4 → Enlèv. mat.-Extru.1 (cut, up to next)
    with BuildSketch(Plane(origin=(0, 3, 0), x_dir=(1, 0, 0), z_dir=(0, 1, 0)), mode=Mode.PRIVATE) as enl_v_mat_extru_1_sk2:
        with Locations((-42.5, 7)):
            Rectangle(ESQUISSE4_W_2, ESQUISSE4_H)
    enl_v_mat_extru_1_tool2 = extrude(enl_v_mat_extru_1_sk2.sketch, amount=-ENL_V_MAT_EXTRU_1_REACH, mode=Mode.PRIVATE) & part.part
    # Esquisse4 → Enlèv. mat.-Extru.1 (cut, up to next)
    with BuildSketch(Plane(origin=(0, 3, 0), x_dir=(1, 0, 0), z_dir=(0, 1, 0)), mode=Mode.PRIVATE) as enl_v_mat_extru_1_sk3:
        with Locations((-46, -21)):
            Rectangle(ESQUISSE4_W, ESQUISSE4_H)
    enl_v_mat_extru_1_tool3 = extrude(enl_v_mat_extru_1_sk3.sketch, amount=-ENL_V_MAT_EXTRU_1_REACH, mode=Mode.PRIVATE) & part.part
    # Esquisse4 → Enlèv. mat.-Extru.1 (cut, up to next)
    with BuildSketch(Plane(origin=(0, 3, 0), x_dir=(1, 0, 0), z_dir=(0, 1, 0)), mode=Mode.PRIVATE) as enl_v_mat_extru_1_sk4:
        with Locations((-42.5, -7)):
            Rectangle(ESQUISSE4_W_2, ESQUISSE4_H)
    enl_v_mat_extru_1_tool4 = extrude(enl_v_mat_extru_1_sk4.sketch, amount=-ENL_V_MAT_EXTRU_1_REACH, mode=Mode.PRIVATE) & part.part
    add(enl_v_mat_extru_1_tool1.solids().sort_by_distance((-46, 3, -21))[0], mode=Mode.SUBTRACT)
    add(enl_v_mat_extru_1_tool2.solids().sort_by_distance((-42.5, 3, -7))[0], mode=Mode.SUBTRACT)
    add(enl_v_mat_extru_1_tool3.solids().sort_by_distance((-46, 3, 21))[0], mode=Mode.SUBTRACT)
    add(enl_v_mat_extru_1_tool4.solids().sort_by_distance((-42.5, 3, 7))[0], mode=Mode.SUBTRACT)


solid = part.part
